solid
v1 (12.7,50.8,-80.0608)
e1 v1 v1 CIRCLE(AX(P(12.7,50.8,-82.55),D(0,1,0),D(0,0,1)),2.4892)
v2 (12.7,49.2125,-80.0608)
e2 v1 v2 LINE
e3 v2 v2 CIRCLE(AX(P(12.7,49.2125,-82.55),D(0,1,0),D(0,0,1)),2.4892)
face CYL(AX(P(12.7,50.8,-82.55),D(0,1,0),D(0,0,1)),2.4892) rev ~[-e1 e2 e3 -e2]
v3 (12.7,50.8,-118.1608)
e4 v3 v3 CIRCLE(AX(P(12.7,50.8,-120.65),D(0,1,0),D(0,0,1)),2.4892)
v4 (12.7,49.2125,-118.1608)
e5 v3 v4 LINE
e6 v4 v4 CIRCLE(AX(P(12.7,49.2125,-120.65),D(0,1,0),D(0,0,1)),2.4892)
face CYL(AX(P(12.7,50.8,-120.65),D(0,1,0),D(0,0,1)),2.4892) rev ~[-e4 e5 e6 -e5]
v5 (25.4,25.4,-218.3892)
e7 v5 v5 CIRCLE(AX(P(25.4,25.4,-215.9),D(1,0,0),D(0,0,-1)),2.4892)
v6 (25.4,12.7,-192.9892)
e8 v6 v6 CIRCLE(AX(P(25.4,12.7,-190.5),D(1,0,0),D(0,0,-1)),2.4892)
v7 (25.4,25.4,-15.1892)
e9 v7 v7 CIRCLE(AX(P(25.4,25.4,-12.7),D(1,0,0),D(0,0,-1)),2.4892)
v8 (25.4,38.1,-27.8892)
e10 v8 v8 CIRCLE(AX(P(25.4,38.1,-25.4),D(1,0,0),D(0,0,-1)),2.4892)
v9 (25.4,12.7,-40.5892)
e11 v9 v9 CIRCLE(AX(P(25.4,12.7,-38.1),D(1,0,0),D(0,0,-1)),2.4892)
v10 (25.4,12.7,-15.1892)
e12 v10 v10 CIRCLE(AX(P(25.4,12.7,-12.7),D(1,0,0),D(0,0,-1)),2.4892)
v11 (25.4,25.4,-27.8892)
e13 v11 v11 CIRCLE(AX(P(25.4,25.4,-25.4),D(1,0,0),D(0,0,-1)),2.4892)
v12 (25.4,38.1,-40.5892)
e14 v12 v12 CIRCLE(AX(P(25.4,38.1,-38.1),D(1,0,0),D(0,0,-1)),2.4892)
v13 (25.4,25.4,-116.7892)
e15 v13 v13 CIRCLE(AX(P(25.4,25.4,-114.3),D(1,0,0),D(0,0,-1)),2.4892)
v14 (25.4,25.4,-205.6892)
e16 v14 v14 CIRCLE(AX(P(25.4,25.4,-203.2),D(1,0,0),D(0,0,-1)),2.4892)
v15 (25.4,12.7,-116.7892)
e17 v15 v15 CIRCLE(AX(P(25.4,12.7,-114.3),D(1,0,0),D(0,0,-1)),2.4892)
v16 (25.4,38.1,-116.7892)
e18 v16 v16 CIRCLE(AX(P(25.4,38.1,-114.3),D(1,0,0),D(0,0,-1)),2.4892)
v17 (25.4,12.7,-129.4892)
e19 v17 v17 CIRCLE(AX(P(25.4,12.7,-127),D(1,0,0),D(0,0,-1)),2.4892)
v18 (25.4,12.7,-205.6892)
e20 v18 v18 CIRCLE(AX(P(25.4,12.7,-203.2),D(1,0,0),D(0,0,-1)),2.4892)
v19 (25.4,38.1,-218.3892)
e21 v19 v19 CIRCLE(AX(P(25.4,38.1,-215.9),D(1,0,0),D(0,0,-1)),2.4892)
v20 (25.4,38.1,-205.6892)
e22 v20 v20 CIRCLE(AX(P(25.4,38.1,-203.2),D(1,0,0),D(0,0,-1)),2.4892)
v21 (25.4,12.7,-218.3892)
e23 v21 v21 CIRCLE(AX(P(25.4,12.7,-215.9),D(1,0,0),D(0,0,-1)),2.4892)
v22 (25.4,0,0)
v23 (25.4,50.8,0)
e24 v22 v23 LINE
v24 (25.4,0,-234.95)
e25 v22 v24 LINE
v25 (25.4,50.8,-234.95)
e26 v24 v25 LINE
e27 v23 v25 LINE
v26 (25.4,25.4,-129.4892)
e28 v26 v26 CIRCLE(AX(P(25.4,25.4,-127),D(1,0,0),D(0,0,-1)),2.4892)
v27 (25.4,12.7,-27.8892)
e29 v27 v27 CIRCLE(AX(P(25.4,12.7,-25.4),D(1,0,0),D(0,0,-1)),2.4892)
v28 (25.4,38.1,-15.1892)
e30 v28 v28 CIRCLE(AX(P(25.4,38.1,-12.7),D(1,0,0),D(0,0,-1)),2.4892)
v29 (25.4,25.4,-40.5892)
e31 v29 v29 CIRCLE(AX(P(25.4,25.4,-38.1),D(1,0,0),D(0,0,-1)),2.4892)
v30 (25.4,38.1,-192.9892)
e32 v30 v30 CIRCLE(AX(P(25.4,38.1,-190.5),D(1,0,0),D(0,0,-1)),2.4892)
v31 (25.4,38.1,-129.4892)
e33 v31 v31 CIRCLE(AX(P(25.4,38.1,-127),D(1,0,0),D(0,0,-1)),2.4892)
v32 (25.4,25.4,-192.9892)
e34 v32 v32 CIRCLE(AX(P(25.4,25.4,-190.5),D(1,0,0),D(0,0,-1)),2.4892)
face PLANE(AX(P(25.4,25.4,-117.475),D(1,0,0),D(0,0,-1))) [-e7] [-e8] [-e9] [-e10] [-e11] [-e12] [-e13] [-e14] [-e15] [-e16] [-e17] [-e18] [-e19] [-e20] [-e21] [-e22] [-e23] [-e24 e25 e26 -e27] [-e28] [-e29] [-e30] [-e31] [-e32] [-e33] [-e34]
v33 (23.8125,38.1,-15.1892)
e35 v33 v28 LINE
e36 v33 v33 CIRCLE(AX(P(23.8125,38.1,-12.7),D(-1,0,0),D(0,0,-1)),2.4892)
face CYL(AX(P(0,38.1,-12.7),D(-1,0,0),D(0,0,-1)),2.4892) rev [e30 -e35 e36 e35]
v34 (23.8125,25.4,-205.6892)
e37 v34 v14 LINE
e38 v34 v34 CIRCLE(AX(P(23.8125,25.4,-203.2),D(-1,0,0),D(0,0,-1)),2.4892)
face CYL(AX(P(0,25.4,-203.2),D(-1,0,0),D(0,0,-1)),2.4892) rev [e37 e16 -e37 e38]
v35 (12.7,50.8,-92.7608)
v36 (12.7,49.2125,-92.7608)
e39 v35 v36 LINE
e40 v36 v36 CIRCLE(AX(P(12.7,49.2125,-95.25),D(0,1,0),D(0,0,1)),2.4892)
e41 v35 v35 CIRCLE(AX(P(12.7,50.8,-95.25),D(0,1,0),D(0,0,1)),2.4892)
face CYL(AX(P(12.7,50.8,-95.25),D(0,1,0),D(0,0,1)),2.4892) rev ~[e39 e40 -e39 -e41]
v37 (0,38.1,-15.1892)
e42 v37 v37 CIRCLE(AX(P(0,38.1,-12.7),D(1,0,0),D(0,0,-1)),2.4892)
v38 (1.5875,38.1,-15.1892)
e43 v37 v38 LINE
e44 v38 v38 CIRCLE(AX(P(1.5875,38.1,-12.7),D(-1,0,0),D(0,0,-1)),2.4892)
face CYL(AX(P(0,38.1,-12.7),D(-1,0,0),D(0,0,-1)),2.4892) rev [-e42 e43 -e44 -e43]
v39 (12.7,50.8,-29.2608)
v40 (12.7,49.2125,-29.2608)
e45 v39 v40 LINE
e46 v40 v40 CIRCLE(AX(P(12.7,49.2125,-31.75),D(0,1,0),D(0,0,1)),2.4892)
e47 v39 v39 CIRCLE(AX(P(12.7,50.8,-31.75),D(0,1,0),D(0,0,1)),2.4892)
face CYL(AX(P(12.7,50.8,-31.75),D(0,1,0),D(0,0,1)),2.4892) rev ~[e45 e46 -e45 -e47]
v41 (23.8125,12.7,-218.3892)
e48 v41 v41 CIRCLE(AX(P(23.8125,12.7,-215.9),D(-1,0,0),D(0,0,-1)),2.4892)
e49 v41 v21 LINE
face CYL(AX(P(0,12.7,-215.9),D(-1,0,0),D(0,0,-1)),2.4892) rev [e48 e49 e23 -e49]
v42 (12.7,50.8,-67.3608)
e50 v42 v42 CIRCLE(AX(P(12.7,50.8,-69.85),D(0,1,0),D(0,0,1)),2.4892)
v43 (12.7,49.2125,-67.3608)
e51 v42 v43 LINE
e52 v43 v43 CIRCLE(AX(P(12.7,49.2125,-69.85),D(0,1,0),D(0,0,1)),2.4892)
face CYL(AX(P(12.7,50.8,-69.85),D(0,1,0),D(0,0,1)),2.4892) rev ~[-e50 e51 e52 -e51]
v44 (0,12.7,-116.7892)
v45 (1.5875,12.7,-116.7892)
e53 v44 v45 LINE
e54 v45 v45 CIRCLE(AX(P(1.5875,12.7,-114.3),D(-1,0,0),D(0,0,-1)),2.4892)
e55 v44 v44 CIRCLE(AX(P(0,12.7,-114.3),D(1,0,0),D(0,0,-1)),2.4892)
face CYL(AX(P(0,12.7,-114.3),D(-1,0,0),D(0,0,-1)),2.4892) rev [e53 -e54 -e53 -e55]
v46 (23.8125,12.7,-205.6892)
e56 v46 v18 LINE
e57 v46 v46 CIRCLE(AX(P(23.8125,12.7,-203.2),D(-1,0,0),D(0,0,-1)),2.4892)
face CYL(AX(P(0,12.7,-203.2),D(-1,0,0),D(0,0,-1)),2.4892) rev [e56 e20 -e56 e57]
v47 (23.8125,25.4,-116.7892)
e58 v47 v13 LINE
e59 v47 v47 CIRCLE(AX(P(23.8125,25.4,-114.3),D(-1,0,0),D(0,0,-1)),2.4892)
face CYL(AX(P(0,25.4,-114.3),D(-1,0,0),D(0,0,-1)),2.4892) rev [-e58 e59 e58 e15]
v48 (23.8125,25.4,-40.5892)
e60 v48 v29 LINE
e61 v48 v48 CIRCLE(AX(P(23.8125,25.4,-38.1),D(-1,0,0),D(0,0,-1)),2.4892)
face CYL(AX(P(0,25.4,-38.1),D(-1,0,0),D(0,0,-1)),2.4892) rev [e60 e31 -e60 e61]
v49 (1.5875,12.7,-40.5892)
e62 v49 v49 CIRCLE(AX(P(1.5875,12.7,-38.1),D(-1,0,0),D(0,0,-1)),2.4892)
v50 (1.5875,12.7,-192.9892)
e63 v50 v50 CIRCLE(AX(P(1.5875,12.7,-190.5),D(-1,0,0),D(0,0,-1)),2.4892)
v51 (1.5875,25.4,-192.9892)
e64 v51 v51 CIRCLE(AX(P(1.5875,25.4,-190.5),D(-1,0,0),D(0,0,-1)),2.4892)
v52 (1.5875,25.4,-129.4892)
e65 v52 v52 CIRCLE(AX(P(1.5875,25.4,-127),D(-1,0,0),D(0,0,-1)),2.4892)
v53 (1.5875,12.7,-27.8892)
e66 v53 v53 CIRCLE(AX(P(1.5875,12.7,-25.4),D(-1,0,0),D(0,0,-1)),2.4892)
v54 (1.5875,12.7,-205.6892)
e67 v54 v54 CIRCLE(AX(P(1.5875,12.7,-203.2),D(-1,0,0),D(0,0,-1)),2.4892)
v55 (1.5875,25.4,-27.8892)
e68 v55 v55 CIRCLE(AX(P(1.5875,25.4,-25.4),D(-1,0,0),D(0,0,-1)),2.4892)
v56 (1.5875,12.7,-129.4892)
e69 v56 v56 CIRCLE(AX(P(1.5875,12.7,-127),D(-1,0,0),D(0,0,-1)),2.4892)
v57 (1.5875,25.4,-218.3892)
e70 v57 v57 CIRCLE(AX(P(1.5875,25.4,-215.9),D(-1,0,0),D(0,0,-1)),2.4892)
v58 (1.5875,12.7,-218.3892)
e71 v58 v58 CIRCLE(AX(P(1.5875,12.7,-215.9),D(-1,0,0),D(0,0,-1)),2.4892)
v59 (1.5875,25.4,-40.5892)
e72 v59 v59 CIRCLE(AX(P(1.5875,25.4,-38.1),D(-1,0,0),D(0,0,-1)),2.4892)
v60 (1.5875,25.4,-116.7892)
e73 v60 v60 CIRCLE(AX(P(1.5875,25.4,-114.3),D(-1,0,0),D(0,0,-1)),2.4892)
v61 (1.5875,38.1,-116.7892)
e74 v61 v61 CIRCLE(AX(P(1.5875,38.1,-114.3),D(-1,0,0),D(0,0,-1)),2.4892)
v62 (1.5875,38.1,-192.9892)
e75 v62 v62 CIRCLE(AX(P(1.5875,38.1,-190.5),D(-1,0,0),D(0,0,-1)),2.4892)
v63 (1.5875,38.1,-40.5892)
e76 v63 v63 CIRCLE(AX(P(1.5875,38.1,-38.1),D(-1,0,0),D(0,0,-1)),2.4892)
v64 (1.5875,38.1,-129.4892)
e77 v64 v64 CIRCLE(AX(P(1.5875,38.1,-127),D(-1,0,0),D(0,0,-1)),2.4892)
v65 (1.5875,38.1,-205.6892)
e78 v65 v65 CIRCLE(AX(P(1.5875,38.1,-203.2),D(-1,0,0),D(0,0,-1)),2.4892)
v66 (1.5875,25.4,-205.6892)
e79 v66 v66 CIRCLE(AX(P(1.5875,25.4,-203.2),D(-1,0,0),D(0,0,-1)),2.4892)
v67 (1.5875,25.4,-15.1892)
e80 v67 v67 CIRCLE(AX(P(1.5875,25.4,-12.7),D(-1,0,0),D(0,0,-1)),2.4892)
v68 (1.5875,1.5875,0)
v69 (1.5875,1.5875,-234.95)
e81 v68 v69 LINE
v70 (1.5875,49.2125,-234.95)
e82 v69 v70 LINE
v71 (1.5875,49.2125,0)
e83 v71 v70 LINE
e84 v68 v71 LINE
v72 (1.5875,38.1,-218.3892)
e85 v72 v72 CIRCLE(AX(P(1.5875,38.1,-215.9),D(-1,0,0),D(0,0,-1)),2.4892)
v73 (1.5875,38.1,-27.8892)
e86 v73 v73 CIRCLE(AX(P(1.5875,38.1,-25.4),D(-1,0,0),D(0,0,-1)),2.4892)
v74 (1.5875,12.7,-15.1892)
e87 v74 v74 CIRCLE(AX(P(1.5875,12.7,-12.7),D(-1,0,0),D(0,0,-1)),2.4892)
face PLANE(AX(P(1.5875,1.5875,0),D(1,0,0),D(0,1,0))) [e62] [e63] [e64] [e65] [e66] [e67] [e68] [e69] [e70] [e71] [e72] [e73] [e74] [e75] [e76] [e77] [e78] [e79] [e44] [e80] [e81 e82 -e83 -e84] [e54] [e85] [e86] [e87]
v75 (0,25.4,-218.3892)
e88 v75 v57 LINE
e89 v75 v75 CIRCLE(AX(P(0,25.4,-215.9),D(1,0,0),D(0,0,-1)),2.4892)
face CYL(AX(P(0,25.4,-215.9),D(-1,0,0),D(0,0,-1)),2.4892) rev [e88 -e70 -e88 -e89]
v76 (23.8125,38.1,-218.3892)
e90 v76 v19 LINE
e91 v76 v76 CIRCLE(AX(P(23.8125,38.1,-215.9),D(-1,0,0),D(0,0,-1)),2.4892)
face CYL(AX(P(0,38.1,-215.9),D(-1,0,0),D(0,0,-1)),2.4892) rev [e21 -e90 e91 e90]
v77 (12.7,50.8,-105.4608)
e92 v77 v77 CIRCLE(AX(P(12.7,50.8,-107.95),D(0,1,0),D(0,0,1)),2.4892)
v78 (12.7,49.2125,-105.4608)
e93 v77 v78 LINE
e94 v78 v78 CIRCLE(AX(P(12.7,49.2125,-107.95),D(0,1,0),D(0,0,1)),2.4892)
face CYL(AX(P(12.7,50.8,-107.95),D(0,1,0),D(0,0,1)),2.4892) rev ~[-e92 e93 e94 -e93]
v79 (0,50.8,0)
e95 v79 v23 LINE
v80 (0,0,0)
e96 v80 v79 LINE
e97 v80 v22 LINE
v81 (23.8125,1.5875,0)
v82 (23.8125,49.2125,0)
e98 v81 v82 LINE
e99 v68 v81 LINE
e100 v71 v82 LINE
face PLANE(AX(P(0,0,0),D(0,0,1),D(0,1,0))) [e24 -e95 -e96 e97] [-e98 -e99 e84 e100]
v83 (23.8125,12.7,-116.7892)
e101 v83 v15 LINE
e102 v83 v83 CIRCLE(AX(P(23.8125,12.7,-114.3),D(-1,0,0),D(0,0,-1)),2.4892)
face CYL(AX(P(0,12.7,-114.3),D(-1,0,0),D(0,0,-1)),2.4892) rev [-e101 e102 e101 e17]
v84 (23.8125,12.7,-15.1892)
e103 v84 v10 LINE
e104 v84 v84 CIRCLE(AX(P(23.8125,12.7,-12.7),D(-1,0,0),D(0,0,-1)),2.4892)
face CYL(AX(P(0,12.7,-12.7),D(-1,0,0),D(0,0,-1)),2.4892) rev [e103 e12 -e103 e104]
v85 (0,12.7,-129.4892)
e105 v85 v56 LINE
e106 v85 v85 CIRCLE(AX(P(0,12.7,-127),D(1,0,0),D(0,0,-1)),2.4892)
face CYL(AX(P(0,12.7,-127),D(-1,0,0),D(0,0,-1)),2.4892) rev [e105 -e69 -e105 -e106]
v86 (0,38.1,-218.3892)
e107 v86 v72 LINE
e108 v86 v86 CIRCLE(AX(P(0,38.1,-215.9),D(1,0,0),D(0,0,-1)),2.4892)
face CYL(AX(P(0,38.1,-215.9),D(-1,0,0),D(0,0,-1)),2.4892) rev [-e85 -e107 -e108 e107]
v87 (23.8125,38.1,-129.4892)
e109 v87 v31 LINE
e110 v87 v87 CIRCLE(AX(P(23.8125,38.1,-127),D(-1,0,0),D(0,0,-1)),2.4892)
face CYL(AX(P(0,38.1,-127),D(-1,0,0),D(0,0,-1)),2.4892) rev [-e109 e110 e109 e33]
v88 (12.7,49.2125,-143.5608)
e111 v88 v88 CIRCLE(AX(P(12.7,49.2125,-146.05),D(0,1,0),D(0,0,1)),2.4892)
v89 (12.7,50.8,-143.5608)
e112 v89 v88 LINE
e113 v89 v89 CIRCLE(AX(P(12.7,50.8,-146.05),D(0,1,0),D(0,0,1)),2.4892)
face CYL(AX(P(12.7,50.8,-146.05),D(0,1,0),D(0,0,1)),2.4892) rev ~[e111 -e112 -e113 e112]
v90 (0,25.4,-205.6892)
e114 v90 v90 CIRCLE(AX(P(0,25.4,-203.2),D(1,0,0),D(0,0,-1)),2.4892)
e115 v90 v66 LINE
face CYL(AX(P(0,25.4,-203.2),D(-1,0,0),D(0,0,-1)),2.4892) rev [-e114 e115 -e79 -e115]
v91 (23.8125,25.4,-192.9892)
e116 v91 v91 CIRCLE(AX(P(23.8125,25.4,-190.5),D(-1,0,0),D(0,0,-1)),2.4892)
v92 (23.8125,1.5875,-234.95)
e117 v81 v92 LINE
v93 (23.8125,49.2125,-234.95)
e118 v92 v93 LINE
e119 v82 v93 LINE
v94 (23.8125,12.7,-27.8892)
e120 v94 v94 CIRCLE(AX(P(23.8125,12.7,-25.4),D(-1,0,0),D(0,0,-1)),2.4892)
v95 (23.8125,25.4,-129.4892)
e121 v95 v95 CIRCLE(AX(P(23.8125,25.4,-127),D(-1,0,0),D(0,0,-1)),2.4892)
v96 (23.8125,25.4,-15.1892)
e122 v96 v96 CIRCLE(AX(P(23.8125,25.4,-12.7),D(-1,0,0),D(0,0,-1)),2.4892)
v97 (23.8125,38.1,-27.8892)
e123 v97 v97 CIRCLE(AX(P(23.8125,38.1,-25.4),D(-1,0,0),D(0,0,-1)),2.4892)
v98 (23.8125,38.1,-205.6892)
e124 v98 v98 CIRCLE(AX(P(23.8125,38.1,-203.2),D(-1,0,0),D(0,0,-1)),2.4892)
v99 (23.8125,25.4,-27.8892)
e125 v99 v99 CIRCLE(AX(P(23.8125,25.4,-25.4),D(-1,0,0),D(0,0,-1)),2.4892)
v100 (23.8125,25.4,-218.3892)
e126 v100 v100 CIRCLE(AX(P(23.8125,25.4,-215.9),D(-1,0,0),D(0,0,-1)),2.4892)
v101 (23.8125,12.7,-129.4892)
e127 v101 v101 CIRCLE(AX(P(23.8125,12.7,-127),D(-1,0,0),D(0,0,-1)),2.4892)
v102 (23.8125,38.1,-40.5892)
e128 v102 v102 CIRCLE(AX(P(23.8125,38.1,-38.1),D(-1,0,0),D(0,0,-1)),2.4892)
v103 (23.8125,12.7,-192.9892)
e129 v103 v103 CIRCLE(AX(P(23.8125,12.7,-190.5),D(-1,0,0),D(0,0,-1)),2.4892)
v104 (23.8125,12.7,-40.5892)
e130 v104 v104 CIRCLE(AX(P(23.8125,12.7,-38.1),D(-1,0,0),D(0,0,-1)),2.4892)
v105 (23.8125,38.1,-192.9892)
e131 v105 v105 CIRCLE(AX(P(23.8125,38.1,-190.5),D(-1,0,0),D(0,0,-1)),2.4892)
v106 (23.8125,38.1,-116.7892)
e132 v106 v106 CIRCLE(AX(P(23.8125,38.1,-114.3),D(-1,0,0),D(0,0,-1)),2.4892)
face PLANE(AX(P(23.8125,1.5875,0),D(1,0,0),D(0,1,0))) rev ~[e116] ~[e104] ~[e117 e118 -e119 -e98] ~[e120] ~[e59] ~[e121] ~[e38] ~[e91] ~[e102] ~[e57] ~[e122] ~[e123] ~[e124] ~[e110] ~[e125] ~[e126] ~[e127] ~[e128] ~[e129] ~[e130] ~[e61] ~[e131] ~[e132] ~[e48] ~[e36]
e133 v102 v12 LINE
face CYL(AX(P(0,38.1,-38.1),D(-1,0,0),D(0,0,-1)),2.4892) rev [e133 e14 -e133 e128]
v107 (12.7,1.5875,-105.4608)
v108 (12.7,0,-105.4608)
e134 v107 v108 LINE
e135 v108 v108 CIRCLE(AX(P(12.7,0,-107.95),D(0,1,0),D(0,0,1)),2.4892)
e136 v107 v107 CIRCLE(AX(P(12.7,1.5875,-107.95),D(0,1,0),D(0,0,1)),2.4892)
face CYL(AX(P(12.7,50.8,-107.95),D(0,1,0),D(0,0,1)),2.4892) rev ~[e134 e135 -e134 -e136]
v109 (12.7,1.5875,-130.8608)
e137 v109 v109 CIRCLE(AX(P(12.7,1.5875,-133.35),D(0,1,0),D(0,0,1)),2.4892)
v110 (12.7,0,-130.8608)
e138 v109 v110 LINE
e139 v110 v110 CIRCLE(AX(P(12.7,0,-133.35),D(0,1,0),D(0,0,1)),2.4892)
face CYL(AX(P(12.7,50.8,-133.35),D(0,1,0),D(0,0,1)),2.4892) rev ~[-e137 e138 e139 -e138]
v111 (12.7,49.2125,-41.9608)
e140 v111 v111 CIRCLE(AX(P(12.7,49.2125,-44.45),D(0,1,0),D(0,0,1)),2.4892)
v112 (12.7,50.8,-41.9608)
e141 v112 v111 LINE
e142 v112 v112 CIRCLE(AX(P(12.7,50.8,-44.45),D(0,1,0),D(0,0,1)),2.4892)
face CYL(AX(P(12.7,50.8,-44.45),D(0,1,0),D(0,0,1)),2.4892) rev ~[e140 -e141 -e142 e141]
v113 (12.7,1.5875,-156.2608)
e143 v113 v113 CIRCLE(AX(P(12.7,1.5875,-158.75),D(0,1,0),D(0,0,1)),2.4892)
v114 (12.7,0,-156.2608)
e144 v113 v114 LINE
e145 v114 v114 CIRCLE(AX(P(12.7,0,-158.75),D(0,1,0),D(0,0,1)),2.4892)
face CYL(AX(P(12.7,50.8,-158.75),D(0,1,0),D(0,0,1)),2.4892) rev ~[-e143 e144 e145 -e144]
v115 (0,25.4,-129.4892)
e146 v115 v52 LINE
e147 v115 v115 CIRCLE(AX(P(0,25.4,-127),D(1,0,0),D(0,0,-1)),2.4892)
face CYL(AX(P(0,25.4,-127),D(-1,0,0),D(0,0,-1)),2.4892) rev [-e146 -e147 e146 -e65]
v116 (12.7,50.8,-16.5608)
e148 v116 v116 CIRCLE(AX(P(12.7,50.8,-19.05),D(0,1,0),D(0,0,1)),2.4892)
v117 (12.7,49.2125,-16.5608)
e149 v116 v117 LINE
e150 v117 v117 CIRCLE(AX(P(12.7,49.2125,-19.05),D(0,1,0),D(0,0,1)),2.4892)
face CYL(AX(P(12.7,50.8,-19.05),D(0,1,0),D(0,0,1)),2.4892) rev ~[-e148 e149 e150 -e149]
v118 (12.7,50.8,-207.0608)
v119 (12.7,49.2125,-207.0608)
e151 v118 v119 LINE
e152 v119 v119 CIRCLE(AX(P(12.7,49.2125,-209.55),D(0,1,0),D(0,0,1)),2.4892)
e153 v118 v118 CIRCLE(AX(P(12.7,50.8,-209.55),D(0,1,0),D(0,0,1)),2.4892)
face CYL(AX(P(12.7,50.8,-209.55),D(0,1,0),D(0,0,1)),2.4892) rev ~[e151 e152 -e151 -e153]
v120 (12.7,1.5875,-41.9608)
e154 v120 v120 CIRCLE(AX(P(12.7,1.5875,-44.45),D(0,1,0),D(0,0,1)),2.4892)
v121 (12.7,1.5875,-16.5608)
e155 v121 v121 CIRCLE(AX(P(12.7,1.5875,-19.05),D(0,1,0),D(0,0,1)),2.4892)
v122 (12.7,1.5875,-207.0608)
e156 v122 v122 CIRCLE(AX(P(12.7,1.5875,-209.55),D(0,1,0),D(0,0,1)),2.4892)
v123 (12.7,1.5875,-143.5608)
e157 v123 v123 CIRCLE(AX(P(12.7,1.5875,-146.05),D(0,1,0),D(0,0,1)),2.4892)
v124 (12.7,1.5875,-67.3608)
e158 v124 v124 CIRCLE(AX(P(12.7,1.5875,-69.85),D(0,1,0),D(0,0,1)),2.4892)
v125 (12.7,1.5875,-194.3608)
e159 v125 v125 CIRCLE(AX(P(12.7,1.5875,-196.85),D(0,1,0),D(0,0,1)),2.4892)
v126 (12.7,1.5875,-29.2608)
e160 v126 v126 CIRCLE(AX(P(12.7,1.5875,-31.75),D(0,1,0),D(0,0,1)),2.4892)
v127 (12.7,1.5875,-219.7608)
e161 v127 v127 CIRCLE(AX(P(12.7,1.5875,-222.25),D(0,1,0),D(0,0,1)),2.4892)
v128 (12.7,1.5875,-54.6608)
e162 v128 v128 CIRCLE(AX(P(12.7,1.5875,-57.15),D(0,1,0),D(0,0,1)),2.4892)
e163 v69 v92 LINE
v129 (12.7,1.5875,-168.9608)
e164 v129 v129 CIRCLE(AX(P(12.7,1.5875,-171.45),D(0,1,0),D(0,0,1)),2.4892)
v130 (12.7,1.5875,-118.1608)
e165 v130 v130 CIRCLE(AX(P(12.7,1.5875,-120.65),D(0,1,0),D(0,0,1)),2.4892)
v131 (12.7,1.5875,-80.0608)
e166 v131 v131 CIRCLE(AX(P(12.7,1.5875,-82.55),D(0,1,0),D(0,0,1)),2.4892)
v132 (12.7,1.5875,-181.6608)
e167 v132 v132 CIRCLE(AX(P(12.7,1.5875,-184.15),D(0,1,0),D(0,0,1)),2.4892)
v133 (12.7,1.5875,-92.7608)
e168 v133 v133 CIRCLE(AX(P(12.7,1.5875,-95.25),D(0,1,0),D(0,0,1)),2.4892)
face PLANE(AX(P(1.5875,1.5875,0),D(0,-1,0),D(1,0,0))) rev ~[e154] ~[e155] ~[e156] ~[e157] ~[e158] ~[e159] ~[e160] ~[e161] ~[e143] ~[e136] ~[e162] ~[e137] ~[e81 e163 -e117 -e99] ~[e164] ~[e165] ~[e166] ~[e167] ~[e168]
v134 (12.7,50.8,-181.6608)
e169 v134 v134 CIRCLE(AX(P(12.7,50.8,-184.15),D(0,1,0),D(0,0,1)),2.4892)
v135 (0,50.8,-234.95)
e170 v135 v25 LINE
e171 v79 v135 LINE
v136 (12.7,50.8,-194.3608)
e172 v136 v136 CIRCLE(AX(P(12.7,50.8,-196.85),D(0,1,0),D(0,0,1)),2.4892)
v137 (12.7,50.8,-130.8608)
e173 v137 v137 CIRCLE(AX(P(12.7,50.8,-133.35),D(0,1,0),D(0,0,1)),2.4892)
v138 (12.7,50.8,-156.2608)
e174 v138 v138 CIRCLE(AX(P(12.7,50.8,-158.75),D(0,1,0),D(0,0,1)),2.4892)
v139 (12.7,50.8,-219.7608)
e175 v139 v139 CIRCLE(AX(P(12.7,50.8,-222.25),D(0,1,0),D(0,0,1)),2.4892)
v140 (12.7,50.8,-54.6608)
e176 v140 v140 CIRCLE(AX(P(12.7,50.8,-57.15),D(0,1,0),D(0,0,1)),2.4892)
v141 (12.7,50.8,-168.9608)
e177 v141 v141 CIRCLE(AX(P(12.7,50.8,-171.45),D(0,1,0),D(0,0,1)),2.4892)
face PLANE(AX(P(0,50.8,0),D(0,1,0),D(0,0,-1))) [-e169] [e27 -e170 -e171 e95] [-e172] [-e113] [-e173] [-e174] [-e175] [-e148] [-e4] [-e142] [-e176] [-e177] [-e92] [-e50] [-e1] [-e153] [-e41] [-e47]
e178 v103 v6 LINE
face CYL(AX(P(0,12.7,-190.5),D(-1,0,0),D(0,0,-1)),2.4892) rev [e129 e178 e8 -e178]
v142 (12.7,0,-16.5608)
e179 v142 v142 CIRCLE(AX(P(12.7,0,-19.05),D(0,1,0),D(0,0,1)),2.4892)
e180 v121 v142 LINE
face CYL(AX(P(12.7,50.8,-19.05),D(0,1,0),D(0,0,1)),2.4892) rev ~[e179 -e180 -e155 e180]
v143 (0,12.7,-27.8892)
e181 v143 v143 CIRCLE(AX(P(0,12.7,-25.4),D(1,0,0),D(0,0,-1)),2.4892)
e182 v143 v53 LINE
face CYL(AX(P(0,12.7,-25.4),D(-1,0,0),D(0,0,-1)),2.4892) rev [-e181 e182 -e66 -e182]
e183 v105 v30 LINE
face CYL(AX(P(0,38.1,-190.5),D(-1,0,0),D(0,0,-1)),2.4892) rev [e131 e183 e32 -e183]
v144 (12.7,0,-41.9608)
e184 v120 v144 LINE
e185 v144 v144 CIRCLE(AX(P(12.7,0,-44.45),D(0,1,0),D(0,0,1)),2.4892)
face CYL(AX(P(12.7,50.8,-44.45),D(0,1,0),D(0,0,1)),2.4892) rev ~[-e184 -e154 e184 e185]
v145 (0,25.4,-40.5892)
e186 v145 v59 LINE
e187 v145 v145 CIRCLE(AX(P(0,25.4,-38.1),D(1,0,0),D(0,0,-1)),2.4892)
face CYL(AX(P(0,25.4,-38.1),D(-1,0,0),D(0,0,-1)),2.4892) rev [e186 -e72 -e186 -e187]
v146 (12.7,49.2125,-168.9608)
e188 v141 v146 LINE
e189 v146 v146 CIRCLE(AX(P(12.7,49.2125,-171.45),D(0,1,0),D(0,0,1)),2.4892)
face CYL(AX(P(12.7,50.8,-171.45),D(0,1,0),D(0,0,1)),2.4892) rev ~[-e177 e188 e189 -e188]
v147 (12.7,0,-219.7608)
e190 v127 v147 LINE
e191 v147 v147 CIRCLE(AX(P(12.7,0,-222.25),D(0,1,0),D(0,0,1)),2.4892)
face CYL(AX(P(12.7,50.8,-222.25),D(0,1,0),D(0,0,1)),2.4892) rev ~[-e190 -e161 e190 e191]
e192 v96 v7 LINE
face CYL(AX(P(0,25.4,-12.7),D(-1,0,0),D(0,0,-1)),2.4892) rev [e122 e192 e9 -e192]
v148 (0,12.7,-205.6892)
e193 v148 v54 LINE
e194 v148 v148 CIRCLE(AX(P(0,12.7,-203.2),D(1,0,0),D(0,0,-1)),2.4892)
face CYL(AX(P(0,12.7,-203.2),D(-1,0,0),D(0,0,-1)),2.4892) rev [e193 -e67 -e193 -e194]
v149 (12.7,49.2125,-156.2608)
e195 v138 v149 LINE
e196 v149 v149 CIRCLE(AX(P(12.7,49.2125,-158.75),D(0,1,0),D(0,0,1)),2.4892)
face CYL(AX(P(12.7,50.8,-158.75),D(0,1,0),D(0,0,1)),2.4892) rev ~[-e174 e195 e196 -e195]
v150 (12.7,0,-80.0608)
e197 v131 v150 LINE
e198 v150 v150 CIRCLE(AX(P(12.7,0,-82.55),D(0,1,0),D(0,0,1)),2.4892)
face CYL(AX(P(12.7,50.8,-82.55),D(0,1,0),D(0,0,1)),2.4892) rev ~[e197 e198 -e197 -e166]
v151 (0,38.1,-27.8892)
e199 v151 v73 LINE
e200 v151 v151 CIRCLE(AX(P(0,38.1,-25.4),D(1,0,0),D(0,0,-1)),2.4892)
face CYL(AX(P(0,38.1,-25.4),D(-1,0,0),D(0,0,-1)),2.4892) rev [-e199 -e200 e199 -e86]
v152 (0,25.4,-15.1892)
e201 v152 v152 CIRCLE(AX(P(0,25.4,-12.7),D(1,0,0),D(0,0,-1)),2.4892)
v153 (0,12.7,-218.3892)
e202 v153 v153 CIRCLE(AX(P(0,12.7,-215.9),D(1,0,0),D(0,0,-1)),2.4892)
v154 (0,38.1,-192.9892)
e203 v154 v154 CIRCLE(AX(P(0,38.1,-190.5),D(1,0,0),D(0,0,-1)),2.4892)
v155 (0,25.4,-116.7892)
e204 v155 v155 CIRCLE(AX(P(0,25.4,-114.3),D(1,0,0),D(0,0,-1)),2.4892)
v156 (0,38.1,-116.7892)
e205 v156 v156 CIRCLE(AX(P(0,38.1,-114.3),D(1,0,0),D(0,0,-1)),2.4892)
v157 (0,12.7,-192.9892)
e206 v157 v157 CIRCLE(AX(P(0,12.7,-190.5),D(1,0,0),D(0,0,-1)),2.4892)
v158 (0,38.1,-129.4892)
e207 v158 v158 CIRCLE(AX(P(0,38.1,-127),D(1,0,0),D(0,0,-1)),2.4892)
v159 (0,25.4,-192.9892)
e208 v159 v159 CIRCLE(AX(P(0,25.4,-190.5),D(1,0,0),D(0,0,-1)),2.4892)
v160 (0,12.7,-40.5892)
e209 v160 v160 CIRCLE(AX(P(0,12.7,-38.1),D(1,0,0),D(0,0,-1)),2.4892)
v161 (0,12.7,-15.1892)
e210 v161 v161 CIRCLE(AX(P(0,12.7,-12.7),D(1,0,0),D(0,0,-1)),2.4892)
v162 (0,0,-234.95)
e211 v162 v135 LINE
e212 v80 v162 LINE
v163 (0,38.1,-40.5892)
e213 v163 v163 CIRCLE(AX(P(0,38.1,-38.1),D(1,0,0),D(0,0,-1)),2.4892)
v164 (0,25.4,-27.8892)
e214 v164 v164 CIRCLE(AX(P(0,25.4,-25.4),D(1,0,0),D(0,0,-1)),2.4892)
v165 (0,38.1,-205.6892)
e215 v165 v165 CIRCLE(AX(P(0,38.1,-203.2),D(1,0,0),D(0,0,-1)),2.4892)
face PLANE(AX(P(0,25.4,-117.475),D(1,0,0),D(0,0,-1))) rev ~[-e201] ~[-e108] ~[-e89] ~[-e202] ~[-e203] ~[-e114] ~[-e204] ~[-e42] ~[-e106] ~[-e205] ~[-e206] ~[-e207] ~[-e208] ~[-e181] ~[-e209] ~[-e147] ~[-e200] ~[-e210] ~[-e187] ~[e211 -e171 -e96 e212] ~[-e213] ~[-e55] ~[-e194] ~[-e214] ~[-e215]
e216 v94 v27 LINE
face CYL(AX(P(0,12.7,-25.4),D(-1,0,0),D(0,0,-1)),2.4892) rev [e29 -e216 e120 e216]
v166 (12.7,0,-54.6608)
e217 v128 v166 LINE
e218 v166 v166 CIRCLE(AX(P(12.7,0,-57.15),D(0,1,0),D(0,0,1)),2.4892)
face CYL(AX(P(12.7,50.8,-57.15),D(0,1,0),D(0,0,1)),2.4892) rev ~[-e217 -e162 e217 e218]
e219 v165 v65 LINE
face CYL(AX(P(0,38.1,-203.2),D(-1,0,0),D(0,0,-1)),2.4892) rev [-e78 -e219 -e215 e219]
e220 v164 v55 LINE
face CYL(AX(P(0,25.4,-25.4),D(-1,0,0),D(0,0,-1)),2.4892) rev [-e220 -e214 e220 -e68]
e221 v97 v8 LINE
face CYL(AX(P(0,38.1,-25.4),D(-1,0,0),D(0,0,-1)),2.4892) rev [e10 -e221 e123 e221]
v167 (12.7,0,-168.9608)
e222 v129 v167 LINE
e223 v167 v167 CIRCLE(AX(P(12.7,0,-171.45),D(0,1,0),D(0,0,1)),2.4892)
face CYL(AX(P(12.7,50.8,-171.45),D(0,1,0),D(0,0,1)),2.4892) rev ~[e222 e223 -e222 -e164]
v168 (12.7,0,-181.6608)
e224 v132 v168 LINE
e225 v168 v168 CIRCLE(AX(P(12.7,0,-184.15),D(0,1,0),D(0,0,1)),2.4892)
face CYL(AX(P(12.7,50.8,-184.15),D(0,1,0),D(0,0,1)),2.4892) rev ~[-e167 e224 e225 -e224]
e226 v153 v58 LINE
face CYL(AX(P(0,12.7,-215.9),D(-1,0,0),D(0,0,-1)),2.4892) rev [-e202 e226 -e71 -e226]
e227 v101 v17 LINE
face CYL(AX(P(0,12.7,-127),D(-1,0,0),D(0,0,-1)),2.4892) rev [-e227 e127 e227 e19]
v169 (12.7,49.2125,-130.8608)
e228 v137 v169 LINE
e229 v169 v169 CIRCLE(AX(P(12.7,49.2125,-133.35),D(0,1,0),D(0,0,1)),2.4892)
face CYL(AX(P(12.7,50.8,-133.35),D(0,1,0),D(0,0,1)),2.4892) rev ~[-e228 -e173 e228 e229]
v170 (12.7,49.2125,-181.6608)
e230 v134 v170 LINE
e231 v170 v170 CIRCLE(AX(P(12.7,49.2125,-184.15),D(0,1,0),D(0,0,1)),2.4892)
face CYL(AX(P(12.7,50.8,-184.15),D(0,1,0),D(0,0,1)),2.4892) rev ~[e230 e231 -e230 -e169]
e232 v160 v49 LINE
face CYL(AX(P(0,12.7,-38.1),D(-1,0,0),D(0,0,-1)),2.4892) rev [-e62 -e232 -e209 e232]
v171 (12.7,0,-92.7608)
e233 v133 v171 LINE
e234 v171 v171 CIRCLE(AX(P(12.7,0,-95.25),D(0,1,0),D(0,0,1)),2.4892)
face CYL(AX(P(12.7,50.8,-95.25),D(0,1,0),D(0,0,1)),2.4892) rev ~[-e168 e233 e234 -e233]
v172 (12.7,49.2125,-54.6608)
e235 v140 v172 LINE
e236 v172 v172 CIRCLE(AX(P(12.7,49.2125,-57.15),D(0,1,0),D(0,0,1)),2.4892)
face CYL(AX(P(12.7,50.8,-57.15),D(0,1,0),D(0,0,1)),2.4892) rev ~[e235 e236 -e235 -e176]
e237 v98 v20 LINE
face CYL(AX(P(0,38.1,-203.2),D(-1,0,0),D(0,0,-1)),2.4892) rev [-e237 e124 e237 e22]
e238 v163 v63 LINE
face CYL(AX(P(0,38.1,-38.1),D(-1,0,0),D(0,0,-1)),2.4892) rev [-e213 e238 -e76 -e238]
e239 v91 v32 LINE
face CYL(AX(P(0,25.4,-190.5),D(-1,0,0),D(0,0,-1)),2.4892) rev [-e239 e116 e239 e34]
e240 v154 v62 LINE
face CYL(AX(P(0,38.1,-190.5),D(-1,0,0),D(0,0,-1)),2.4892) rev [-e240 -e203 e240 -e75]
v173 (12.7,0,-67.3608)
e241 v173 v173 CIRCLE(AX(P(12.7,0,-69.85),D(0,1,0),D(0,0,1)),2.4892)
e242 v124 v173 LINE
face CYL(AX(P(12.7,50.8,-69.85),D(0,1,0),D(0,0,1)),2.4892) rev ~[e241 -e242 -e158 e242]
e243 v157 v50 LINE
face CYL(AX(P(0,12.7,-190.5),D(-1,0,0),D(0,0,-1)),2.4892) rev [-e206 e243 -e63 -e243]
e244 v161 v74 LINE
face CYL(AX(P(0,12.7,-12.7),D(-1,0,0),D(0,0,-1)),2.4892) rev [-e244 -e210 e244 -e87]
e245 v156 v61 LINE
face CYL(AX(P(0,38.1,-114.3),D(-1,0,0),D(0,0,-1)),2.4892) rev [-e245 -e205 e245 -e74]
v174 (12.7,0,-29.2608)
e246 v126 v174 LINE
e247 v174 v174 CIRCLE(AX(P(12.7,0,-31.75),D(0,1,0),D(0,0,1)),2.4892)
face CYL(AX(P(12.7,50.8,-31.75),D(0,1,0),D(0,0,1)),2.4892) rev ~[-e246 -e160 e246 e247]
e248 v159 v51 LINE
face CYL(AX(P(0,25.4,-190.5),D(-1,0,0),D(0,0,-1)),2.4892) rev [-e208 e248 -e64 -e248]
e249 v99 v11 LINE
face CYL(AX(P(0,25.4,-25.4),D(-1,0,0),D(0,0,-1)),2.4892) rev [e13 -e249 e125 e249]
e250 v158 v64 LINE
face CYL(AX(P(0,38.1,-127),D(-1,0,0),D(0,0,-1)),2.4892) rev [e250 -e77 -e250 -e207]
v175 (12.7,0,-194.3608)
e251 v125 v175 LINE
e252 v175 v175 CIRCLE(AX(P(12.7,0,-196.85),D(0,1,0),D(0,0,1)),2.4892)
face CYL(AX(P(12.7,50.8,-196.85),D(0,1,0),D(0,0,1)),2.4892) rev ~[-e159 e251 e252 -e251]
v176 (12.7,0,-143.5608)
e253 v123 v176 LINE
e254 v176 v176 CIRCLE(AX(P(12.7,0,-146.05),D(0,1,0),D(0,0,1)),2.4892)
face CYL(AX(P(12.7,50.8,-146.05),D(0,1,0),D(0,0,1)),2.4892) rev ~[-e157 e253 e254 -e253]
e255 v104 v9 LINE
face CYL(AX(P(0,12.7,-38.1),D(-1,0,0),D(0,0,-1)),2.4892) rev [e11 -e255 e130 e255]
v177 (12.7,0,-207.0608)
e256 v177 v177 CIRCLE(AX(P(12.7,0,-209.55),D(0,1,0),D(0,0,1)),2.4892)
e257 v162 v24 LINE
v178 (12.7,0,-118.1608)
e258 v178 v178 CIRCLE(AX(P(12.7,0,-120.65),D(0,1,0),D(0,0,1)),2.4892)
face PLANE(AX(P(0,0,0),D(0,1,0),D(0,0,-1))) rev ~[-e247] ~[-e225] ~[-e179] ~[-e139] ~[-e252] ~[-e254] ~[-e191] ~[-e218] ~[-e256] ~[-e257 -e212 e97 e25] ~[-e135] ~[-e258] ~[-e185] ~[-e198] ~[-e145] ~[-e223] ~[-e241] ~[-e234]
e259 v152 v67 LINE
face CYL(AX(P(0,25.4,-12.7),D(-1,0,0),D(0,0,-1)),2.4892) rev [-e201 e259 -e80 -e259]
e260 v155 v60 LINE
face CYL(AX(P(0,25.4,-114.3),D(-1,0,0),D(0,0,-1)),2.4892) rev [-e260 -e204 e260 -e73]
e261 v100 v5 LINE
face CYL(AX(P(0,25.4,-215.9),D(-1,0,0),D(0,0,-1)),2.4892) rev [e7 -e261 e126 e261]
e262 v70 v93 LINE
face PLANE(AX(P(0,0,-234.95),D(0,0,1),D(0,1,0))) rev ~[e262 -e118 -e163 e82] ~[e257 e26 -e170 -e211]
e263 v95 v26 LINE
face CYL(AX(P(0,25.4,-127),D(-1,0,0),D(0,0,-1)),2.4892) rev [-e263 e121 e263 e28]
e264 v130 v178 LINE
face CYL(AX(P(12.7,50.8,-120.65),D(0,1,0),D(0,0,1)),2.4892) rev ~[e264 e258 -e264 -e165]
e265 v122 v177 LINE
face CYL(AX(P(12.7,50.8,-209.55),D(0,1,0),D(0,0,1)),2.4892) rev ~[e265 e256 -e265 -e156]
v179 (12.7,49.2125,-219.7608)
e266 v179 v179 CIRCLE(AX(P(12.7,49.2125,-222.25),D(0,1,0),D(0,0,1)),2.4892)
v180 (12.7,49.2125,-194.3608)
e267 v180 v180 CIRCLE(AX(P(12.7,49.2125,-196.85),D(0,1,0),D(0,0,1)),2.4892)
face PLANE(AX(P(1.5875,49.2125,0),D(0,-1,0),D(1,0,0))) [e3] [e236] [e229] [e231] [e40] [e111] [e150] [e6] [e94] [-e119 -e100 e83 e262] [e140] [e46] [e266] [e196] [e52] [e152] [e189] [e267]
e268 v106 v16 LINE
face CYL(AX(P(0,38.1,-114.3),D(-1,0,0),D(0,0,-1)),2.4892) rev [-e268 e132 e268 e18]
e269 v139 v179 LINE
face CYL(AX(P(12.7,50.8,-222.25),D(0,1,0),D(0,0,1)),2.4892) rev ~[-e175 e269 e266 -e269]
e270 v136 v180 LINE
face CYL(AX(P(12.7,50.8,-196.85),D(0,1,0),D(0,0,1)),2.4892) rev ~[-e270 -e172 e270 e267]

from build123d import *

# Parameters (mm, degrees)
SKETCH1_W           = 234.95
SKETCH1_H           = 50.8
SKETCH1_R           = 2.4892
BOSS_EXTRUDE1_DEPTH = 25.4
SKETCH2_W           = 22.225
SKETCH2_H           = 47.625
CUT_EXTRUDE1_DEPTH  = 242.717402146
SKETCH3_R           = 2.4892
CUT_EXTRUDE2_DEPTH  = 242.717402146


with BuildPart() as part:
    # Sketch1 → Boss-Extrude1 (new body)
    with BuildSketch(Plane(origin=(0, 0, 0), x_dir=(0, 0, -1), z_dir=(1, 0, 0))):
        with Locations((117.475, 25.4)):
            Rectangle(SKETCH1_W, SKETCH1_H)
        with Locations((12.7, 25.4)):
            Circle(SKETCH1_R, mode=Mode.SUBTRACT)
        with Locations((12.7, 38.1)):
            Circle(SKETCH1_R, mode=Mode.SUBTRACT)
        with Locations((12.7, 12.7)):
            Circle(SKETCH1_R, mode=Mode.SUBTRACT)
        with Locations((25.4, 12.7)):
            Circle(SKETCH1_R, mode=Mode.SUBTRACT)
        with Locations((25.4, 25.4)):
            Circle(SKETCH1_R, mode=Mode.SUBTRACT)
        with Locations((25.4, 38.1)):
            Circle(SKETCH1_R, mode=Mode.SUBTRACT)
        with Locations((38.1, 12.7)):
            Circle(SKETCH1_R, mode=Mode.SUBTRACT)
        with Locations((38.1, 25.4)):
            Circle(SKETCH1_R, mode=Mode.SUBTRACT)
        with Locations((38.1, 38.1)):
            Circle(SKETCH1_R, mode=Mode.SUBTRACT)
        with Locations((114.3, 12.7)):
            Circle(SKETCH1_R, mode=Mode.SUBTRACT)
        with Locations((114.3, 25.4)):
            Circle(SKETCH1_R, mode=Mode.SUBTRACT)
        with Locations((114.3, 38.1)):
            Circle(SKETCH1_R, mode=Mode.SUBTRACT)
        with Locations((127, 12.7)):
            Circle(SKETCH1_R, mode=Mode.SUBTRACT)
        with Locations((127, 25.4)):
            Circle(SKETCH1_R, mode=Mode.SUBTRACT)
        with Locations((127, 38.1)):
            Circle(SKETCH1_R, mode=Mode.SUBTRACT)
        with Locations((190.5, 12.7)):
            Circle(SKETCH1_R, mode=Mode.SUBTRACT)
        with Locations((190.5, 25.4)):
            Circle(SKETCH1_R, mode=Mode.SUBTRACT)
        with Locations((190.5, 38.1)):
            Circle(SKETCH1_R, mode=Mode.SUBTRACT)
        with Locations((203.2, 12.7)):
            Circle(SKETCH1_R, mode=Mode.SUBTRACT)
        with Locations((203.2, 25.4)):
            Circle(SKETCH1_R, mode=Mode.SUBTRACT)
        with Locations((203.2, 38.1)):
            Circle(SKETCH1_R, mode=Mode.SUBTRACT)
        with Locations((215.9, 12.7)):
            Circle(SKETCH1_R, mode=Mode.SUBTRACT)
        with Locations((215.9, 25.4)):
            Circle(SKETCH1_R, mode=Mode.SUBTRACT)
        with Locations((215.9, 38.1)):
            Circle(SKETCH1_R, mode=Mode.SUBTRACT)
    extrude(amount=BOSS_EXTRUDE1_DEPTH)

    # Sketch2 → Cut-Extrude1 (cut, through all)
    with BuildSketch(Plane.XY):
        with Locations((12.7, 25.4)):
            Rectangle(SKETCH2_W, SKETCH2_H)
    extrude(amount=-CUT_EXTRUDE1_DEPTH, mode=Mode.SUBTRACT)

    # Sketch3 → Cut-Extrude2 (cut, through all)
    with BuildSketch(Plane(origin=(0, 50.8, 0), x_dir=(1, 0, 0), z_dir=(0, 1, 0))):
        with Locations(Location((12.7, 222.25, 0), (0, 0, 270))):
            Circle(SKETCH3_R)
        with Locations(Location((12.7, 209.55, 0), (0, 0, 270))):
            Circle(SKETCH3_R)
        with Locations(Location((12.7, 196.85, 0), (0, 0, 270))):
            Circle(SKETCH3_R)
        with Locations(Location((12.7, 184.15, 0), (0, 0, 270))):
            Circle(SKETCH3_R)
        with Locations(Location((12.7, 171.45, 0), (0, 0, 270))):
            Circle(SKETCH3_R)
        with Locations(Location((12.7, 158.75, 0), (0, 0, 270))):
            Circle(SKETCH3_R)
        with Locations(Location((12.7, 146.05, 0), (0, 0, 270))):
            Circle(SKETCH3_R)
        with Locations(Location((12.7, 133.35, 0), (0, 0, 270))):
            Circle(SKETCH3_R)
        with Locations(Location((12.7, 120.65, 0), (0, 0, 270))):
            Circle(SKETCH3_R)
        with Locations(Location((12.7, 107.95, 0), (0, 0, 270))):
            Circle(SKETCH3_R)
        with Locations(Location((12.7, 95.25, 0), (0, 0, 270))):
            Circle(SKETCH3_R)
        with Locations(Location((12.7, 82.55, 0), (0, 0, 270))):
            Circle(SKETCH3_R)
        with Locations(Location((12.7, 69.85, 0), (0, 0, 270))):
            Circle(SKETCH3_R)
        with Locations(Location((12.7, 57.15, 0), (0, 0, 270))):
            Circle(SKETCH3_R)
        with Locations(Location((12.7, 44.45, 0), (0, 0, 270))):
            Circle(SKETCH3_R)
        with Locations(Location((12.7, 31.75, 0), (0, 0, 270))):
            Circle(SKETCH3_R)
        with Locations(Location((12.7, 19.05, 0), (0, 0, 270))):
            Circle(SKETCH3_R)
    extrude(amount=-CUT_EXTRUDE2_DEPTH, mode=Mode.SUBTRACT)


solid = part.part
